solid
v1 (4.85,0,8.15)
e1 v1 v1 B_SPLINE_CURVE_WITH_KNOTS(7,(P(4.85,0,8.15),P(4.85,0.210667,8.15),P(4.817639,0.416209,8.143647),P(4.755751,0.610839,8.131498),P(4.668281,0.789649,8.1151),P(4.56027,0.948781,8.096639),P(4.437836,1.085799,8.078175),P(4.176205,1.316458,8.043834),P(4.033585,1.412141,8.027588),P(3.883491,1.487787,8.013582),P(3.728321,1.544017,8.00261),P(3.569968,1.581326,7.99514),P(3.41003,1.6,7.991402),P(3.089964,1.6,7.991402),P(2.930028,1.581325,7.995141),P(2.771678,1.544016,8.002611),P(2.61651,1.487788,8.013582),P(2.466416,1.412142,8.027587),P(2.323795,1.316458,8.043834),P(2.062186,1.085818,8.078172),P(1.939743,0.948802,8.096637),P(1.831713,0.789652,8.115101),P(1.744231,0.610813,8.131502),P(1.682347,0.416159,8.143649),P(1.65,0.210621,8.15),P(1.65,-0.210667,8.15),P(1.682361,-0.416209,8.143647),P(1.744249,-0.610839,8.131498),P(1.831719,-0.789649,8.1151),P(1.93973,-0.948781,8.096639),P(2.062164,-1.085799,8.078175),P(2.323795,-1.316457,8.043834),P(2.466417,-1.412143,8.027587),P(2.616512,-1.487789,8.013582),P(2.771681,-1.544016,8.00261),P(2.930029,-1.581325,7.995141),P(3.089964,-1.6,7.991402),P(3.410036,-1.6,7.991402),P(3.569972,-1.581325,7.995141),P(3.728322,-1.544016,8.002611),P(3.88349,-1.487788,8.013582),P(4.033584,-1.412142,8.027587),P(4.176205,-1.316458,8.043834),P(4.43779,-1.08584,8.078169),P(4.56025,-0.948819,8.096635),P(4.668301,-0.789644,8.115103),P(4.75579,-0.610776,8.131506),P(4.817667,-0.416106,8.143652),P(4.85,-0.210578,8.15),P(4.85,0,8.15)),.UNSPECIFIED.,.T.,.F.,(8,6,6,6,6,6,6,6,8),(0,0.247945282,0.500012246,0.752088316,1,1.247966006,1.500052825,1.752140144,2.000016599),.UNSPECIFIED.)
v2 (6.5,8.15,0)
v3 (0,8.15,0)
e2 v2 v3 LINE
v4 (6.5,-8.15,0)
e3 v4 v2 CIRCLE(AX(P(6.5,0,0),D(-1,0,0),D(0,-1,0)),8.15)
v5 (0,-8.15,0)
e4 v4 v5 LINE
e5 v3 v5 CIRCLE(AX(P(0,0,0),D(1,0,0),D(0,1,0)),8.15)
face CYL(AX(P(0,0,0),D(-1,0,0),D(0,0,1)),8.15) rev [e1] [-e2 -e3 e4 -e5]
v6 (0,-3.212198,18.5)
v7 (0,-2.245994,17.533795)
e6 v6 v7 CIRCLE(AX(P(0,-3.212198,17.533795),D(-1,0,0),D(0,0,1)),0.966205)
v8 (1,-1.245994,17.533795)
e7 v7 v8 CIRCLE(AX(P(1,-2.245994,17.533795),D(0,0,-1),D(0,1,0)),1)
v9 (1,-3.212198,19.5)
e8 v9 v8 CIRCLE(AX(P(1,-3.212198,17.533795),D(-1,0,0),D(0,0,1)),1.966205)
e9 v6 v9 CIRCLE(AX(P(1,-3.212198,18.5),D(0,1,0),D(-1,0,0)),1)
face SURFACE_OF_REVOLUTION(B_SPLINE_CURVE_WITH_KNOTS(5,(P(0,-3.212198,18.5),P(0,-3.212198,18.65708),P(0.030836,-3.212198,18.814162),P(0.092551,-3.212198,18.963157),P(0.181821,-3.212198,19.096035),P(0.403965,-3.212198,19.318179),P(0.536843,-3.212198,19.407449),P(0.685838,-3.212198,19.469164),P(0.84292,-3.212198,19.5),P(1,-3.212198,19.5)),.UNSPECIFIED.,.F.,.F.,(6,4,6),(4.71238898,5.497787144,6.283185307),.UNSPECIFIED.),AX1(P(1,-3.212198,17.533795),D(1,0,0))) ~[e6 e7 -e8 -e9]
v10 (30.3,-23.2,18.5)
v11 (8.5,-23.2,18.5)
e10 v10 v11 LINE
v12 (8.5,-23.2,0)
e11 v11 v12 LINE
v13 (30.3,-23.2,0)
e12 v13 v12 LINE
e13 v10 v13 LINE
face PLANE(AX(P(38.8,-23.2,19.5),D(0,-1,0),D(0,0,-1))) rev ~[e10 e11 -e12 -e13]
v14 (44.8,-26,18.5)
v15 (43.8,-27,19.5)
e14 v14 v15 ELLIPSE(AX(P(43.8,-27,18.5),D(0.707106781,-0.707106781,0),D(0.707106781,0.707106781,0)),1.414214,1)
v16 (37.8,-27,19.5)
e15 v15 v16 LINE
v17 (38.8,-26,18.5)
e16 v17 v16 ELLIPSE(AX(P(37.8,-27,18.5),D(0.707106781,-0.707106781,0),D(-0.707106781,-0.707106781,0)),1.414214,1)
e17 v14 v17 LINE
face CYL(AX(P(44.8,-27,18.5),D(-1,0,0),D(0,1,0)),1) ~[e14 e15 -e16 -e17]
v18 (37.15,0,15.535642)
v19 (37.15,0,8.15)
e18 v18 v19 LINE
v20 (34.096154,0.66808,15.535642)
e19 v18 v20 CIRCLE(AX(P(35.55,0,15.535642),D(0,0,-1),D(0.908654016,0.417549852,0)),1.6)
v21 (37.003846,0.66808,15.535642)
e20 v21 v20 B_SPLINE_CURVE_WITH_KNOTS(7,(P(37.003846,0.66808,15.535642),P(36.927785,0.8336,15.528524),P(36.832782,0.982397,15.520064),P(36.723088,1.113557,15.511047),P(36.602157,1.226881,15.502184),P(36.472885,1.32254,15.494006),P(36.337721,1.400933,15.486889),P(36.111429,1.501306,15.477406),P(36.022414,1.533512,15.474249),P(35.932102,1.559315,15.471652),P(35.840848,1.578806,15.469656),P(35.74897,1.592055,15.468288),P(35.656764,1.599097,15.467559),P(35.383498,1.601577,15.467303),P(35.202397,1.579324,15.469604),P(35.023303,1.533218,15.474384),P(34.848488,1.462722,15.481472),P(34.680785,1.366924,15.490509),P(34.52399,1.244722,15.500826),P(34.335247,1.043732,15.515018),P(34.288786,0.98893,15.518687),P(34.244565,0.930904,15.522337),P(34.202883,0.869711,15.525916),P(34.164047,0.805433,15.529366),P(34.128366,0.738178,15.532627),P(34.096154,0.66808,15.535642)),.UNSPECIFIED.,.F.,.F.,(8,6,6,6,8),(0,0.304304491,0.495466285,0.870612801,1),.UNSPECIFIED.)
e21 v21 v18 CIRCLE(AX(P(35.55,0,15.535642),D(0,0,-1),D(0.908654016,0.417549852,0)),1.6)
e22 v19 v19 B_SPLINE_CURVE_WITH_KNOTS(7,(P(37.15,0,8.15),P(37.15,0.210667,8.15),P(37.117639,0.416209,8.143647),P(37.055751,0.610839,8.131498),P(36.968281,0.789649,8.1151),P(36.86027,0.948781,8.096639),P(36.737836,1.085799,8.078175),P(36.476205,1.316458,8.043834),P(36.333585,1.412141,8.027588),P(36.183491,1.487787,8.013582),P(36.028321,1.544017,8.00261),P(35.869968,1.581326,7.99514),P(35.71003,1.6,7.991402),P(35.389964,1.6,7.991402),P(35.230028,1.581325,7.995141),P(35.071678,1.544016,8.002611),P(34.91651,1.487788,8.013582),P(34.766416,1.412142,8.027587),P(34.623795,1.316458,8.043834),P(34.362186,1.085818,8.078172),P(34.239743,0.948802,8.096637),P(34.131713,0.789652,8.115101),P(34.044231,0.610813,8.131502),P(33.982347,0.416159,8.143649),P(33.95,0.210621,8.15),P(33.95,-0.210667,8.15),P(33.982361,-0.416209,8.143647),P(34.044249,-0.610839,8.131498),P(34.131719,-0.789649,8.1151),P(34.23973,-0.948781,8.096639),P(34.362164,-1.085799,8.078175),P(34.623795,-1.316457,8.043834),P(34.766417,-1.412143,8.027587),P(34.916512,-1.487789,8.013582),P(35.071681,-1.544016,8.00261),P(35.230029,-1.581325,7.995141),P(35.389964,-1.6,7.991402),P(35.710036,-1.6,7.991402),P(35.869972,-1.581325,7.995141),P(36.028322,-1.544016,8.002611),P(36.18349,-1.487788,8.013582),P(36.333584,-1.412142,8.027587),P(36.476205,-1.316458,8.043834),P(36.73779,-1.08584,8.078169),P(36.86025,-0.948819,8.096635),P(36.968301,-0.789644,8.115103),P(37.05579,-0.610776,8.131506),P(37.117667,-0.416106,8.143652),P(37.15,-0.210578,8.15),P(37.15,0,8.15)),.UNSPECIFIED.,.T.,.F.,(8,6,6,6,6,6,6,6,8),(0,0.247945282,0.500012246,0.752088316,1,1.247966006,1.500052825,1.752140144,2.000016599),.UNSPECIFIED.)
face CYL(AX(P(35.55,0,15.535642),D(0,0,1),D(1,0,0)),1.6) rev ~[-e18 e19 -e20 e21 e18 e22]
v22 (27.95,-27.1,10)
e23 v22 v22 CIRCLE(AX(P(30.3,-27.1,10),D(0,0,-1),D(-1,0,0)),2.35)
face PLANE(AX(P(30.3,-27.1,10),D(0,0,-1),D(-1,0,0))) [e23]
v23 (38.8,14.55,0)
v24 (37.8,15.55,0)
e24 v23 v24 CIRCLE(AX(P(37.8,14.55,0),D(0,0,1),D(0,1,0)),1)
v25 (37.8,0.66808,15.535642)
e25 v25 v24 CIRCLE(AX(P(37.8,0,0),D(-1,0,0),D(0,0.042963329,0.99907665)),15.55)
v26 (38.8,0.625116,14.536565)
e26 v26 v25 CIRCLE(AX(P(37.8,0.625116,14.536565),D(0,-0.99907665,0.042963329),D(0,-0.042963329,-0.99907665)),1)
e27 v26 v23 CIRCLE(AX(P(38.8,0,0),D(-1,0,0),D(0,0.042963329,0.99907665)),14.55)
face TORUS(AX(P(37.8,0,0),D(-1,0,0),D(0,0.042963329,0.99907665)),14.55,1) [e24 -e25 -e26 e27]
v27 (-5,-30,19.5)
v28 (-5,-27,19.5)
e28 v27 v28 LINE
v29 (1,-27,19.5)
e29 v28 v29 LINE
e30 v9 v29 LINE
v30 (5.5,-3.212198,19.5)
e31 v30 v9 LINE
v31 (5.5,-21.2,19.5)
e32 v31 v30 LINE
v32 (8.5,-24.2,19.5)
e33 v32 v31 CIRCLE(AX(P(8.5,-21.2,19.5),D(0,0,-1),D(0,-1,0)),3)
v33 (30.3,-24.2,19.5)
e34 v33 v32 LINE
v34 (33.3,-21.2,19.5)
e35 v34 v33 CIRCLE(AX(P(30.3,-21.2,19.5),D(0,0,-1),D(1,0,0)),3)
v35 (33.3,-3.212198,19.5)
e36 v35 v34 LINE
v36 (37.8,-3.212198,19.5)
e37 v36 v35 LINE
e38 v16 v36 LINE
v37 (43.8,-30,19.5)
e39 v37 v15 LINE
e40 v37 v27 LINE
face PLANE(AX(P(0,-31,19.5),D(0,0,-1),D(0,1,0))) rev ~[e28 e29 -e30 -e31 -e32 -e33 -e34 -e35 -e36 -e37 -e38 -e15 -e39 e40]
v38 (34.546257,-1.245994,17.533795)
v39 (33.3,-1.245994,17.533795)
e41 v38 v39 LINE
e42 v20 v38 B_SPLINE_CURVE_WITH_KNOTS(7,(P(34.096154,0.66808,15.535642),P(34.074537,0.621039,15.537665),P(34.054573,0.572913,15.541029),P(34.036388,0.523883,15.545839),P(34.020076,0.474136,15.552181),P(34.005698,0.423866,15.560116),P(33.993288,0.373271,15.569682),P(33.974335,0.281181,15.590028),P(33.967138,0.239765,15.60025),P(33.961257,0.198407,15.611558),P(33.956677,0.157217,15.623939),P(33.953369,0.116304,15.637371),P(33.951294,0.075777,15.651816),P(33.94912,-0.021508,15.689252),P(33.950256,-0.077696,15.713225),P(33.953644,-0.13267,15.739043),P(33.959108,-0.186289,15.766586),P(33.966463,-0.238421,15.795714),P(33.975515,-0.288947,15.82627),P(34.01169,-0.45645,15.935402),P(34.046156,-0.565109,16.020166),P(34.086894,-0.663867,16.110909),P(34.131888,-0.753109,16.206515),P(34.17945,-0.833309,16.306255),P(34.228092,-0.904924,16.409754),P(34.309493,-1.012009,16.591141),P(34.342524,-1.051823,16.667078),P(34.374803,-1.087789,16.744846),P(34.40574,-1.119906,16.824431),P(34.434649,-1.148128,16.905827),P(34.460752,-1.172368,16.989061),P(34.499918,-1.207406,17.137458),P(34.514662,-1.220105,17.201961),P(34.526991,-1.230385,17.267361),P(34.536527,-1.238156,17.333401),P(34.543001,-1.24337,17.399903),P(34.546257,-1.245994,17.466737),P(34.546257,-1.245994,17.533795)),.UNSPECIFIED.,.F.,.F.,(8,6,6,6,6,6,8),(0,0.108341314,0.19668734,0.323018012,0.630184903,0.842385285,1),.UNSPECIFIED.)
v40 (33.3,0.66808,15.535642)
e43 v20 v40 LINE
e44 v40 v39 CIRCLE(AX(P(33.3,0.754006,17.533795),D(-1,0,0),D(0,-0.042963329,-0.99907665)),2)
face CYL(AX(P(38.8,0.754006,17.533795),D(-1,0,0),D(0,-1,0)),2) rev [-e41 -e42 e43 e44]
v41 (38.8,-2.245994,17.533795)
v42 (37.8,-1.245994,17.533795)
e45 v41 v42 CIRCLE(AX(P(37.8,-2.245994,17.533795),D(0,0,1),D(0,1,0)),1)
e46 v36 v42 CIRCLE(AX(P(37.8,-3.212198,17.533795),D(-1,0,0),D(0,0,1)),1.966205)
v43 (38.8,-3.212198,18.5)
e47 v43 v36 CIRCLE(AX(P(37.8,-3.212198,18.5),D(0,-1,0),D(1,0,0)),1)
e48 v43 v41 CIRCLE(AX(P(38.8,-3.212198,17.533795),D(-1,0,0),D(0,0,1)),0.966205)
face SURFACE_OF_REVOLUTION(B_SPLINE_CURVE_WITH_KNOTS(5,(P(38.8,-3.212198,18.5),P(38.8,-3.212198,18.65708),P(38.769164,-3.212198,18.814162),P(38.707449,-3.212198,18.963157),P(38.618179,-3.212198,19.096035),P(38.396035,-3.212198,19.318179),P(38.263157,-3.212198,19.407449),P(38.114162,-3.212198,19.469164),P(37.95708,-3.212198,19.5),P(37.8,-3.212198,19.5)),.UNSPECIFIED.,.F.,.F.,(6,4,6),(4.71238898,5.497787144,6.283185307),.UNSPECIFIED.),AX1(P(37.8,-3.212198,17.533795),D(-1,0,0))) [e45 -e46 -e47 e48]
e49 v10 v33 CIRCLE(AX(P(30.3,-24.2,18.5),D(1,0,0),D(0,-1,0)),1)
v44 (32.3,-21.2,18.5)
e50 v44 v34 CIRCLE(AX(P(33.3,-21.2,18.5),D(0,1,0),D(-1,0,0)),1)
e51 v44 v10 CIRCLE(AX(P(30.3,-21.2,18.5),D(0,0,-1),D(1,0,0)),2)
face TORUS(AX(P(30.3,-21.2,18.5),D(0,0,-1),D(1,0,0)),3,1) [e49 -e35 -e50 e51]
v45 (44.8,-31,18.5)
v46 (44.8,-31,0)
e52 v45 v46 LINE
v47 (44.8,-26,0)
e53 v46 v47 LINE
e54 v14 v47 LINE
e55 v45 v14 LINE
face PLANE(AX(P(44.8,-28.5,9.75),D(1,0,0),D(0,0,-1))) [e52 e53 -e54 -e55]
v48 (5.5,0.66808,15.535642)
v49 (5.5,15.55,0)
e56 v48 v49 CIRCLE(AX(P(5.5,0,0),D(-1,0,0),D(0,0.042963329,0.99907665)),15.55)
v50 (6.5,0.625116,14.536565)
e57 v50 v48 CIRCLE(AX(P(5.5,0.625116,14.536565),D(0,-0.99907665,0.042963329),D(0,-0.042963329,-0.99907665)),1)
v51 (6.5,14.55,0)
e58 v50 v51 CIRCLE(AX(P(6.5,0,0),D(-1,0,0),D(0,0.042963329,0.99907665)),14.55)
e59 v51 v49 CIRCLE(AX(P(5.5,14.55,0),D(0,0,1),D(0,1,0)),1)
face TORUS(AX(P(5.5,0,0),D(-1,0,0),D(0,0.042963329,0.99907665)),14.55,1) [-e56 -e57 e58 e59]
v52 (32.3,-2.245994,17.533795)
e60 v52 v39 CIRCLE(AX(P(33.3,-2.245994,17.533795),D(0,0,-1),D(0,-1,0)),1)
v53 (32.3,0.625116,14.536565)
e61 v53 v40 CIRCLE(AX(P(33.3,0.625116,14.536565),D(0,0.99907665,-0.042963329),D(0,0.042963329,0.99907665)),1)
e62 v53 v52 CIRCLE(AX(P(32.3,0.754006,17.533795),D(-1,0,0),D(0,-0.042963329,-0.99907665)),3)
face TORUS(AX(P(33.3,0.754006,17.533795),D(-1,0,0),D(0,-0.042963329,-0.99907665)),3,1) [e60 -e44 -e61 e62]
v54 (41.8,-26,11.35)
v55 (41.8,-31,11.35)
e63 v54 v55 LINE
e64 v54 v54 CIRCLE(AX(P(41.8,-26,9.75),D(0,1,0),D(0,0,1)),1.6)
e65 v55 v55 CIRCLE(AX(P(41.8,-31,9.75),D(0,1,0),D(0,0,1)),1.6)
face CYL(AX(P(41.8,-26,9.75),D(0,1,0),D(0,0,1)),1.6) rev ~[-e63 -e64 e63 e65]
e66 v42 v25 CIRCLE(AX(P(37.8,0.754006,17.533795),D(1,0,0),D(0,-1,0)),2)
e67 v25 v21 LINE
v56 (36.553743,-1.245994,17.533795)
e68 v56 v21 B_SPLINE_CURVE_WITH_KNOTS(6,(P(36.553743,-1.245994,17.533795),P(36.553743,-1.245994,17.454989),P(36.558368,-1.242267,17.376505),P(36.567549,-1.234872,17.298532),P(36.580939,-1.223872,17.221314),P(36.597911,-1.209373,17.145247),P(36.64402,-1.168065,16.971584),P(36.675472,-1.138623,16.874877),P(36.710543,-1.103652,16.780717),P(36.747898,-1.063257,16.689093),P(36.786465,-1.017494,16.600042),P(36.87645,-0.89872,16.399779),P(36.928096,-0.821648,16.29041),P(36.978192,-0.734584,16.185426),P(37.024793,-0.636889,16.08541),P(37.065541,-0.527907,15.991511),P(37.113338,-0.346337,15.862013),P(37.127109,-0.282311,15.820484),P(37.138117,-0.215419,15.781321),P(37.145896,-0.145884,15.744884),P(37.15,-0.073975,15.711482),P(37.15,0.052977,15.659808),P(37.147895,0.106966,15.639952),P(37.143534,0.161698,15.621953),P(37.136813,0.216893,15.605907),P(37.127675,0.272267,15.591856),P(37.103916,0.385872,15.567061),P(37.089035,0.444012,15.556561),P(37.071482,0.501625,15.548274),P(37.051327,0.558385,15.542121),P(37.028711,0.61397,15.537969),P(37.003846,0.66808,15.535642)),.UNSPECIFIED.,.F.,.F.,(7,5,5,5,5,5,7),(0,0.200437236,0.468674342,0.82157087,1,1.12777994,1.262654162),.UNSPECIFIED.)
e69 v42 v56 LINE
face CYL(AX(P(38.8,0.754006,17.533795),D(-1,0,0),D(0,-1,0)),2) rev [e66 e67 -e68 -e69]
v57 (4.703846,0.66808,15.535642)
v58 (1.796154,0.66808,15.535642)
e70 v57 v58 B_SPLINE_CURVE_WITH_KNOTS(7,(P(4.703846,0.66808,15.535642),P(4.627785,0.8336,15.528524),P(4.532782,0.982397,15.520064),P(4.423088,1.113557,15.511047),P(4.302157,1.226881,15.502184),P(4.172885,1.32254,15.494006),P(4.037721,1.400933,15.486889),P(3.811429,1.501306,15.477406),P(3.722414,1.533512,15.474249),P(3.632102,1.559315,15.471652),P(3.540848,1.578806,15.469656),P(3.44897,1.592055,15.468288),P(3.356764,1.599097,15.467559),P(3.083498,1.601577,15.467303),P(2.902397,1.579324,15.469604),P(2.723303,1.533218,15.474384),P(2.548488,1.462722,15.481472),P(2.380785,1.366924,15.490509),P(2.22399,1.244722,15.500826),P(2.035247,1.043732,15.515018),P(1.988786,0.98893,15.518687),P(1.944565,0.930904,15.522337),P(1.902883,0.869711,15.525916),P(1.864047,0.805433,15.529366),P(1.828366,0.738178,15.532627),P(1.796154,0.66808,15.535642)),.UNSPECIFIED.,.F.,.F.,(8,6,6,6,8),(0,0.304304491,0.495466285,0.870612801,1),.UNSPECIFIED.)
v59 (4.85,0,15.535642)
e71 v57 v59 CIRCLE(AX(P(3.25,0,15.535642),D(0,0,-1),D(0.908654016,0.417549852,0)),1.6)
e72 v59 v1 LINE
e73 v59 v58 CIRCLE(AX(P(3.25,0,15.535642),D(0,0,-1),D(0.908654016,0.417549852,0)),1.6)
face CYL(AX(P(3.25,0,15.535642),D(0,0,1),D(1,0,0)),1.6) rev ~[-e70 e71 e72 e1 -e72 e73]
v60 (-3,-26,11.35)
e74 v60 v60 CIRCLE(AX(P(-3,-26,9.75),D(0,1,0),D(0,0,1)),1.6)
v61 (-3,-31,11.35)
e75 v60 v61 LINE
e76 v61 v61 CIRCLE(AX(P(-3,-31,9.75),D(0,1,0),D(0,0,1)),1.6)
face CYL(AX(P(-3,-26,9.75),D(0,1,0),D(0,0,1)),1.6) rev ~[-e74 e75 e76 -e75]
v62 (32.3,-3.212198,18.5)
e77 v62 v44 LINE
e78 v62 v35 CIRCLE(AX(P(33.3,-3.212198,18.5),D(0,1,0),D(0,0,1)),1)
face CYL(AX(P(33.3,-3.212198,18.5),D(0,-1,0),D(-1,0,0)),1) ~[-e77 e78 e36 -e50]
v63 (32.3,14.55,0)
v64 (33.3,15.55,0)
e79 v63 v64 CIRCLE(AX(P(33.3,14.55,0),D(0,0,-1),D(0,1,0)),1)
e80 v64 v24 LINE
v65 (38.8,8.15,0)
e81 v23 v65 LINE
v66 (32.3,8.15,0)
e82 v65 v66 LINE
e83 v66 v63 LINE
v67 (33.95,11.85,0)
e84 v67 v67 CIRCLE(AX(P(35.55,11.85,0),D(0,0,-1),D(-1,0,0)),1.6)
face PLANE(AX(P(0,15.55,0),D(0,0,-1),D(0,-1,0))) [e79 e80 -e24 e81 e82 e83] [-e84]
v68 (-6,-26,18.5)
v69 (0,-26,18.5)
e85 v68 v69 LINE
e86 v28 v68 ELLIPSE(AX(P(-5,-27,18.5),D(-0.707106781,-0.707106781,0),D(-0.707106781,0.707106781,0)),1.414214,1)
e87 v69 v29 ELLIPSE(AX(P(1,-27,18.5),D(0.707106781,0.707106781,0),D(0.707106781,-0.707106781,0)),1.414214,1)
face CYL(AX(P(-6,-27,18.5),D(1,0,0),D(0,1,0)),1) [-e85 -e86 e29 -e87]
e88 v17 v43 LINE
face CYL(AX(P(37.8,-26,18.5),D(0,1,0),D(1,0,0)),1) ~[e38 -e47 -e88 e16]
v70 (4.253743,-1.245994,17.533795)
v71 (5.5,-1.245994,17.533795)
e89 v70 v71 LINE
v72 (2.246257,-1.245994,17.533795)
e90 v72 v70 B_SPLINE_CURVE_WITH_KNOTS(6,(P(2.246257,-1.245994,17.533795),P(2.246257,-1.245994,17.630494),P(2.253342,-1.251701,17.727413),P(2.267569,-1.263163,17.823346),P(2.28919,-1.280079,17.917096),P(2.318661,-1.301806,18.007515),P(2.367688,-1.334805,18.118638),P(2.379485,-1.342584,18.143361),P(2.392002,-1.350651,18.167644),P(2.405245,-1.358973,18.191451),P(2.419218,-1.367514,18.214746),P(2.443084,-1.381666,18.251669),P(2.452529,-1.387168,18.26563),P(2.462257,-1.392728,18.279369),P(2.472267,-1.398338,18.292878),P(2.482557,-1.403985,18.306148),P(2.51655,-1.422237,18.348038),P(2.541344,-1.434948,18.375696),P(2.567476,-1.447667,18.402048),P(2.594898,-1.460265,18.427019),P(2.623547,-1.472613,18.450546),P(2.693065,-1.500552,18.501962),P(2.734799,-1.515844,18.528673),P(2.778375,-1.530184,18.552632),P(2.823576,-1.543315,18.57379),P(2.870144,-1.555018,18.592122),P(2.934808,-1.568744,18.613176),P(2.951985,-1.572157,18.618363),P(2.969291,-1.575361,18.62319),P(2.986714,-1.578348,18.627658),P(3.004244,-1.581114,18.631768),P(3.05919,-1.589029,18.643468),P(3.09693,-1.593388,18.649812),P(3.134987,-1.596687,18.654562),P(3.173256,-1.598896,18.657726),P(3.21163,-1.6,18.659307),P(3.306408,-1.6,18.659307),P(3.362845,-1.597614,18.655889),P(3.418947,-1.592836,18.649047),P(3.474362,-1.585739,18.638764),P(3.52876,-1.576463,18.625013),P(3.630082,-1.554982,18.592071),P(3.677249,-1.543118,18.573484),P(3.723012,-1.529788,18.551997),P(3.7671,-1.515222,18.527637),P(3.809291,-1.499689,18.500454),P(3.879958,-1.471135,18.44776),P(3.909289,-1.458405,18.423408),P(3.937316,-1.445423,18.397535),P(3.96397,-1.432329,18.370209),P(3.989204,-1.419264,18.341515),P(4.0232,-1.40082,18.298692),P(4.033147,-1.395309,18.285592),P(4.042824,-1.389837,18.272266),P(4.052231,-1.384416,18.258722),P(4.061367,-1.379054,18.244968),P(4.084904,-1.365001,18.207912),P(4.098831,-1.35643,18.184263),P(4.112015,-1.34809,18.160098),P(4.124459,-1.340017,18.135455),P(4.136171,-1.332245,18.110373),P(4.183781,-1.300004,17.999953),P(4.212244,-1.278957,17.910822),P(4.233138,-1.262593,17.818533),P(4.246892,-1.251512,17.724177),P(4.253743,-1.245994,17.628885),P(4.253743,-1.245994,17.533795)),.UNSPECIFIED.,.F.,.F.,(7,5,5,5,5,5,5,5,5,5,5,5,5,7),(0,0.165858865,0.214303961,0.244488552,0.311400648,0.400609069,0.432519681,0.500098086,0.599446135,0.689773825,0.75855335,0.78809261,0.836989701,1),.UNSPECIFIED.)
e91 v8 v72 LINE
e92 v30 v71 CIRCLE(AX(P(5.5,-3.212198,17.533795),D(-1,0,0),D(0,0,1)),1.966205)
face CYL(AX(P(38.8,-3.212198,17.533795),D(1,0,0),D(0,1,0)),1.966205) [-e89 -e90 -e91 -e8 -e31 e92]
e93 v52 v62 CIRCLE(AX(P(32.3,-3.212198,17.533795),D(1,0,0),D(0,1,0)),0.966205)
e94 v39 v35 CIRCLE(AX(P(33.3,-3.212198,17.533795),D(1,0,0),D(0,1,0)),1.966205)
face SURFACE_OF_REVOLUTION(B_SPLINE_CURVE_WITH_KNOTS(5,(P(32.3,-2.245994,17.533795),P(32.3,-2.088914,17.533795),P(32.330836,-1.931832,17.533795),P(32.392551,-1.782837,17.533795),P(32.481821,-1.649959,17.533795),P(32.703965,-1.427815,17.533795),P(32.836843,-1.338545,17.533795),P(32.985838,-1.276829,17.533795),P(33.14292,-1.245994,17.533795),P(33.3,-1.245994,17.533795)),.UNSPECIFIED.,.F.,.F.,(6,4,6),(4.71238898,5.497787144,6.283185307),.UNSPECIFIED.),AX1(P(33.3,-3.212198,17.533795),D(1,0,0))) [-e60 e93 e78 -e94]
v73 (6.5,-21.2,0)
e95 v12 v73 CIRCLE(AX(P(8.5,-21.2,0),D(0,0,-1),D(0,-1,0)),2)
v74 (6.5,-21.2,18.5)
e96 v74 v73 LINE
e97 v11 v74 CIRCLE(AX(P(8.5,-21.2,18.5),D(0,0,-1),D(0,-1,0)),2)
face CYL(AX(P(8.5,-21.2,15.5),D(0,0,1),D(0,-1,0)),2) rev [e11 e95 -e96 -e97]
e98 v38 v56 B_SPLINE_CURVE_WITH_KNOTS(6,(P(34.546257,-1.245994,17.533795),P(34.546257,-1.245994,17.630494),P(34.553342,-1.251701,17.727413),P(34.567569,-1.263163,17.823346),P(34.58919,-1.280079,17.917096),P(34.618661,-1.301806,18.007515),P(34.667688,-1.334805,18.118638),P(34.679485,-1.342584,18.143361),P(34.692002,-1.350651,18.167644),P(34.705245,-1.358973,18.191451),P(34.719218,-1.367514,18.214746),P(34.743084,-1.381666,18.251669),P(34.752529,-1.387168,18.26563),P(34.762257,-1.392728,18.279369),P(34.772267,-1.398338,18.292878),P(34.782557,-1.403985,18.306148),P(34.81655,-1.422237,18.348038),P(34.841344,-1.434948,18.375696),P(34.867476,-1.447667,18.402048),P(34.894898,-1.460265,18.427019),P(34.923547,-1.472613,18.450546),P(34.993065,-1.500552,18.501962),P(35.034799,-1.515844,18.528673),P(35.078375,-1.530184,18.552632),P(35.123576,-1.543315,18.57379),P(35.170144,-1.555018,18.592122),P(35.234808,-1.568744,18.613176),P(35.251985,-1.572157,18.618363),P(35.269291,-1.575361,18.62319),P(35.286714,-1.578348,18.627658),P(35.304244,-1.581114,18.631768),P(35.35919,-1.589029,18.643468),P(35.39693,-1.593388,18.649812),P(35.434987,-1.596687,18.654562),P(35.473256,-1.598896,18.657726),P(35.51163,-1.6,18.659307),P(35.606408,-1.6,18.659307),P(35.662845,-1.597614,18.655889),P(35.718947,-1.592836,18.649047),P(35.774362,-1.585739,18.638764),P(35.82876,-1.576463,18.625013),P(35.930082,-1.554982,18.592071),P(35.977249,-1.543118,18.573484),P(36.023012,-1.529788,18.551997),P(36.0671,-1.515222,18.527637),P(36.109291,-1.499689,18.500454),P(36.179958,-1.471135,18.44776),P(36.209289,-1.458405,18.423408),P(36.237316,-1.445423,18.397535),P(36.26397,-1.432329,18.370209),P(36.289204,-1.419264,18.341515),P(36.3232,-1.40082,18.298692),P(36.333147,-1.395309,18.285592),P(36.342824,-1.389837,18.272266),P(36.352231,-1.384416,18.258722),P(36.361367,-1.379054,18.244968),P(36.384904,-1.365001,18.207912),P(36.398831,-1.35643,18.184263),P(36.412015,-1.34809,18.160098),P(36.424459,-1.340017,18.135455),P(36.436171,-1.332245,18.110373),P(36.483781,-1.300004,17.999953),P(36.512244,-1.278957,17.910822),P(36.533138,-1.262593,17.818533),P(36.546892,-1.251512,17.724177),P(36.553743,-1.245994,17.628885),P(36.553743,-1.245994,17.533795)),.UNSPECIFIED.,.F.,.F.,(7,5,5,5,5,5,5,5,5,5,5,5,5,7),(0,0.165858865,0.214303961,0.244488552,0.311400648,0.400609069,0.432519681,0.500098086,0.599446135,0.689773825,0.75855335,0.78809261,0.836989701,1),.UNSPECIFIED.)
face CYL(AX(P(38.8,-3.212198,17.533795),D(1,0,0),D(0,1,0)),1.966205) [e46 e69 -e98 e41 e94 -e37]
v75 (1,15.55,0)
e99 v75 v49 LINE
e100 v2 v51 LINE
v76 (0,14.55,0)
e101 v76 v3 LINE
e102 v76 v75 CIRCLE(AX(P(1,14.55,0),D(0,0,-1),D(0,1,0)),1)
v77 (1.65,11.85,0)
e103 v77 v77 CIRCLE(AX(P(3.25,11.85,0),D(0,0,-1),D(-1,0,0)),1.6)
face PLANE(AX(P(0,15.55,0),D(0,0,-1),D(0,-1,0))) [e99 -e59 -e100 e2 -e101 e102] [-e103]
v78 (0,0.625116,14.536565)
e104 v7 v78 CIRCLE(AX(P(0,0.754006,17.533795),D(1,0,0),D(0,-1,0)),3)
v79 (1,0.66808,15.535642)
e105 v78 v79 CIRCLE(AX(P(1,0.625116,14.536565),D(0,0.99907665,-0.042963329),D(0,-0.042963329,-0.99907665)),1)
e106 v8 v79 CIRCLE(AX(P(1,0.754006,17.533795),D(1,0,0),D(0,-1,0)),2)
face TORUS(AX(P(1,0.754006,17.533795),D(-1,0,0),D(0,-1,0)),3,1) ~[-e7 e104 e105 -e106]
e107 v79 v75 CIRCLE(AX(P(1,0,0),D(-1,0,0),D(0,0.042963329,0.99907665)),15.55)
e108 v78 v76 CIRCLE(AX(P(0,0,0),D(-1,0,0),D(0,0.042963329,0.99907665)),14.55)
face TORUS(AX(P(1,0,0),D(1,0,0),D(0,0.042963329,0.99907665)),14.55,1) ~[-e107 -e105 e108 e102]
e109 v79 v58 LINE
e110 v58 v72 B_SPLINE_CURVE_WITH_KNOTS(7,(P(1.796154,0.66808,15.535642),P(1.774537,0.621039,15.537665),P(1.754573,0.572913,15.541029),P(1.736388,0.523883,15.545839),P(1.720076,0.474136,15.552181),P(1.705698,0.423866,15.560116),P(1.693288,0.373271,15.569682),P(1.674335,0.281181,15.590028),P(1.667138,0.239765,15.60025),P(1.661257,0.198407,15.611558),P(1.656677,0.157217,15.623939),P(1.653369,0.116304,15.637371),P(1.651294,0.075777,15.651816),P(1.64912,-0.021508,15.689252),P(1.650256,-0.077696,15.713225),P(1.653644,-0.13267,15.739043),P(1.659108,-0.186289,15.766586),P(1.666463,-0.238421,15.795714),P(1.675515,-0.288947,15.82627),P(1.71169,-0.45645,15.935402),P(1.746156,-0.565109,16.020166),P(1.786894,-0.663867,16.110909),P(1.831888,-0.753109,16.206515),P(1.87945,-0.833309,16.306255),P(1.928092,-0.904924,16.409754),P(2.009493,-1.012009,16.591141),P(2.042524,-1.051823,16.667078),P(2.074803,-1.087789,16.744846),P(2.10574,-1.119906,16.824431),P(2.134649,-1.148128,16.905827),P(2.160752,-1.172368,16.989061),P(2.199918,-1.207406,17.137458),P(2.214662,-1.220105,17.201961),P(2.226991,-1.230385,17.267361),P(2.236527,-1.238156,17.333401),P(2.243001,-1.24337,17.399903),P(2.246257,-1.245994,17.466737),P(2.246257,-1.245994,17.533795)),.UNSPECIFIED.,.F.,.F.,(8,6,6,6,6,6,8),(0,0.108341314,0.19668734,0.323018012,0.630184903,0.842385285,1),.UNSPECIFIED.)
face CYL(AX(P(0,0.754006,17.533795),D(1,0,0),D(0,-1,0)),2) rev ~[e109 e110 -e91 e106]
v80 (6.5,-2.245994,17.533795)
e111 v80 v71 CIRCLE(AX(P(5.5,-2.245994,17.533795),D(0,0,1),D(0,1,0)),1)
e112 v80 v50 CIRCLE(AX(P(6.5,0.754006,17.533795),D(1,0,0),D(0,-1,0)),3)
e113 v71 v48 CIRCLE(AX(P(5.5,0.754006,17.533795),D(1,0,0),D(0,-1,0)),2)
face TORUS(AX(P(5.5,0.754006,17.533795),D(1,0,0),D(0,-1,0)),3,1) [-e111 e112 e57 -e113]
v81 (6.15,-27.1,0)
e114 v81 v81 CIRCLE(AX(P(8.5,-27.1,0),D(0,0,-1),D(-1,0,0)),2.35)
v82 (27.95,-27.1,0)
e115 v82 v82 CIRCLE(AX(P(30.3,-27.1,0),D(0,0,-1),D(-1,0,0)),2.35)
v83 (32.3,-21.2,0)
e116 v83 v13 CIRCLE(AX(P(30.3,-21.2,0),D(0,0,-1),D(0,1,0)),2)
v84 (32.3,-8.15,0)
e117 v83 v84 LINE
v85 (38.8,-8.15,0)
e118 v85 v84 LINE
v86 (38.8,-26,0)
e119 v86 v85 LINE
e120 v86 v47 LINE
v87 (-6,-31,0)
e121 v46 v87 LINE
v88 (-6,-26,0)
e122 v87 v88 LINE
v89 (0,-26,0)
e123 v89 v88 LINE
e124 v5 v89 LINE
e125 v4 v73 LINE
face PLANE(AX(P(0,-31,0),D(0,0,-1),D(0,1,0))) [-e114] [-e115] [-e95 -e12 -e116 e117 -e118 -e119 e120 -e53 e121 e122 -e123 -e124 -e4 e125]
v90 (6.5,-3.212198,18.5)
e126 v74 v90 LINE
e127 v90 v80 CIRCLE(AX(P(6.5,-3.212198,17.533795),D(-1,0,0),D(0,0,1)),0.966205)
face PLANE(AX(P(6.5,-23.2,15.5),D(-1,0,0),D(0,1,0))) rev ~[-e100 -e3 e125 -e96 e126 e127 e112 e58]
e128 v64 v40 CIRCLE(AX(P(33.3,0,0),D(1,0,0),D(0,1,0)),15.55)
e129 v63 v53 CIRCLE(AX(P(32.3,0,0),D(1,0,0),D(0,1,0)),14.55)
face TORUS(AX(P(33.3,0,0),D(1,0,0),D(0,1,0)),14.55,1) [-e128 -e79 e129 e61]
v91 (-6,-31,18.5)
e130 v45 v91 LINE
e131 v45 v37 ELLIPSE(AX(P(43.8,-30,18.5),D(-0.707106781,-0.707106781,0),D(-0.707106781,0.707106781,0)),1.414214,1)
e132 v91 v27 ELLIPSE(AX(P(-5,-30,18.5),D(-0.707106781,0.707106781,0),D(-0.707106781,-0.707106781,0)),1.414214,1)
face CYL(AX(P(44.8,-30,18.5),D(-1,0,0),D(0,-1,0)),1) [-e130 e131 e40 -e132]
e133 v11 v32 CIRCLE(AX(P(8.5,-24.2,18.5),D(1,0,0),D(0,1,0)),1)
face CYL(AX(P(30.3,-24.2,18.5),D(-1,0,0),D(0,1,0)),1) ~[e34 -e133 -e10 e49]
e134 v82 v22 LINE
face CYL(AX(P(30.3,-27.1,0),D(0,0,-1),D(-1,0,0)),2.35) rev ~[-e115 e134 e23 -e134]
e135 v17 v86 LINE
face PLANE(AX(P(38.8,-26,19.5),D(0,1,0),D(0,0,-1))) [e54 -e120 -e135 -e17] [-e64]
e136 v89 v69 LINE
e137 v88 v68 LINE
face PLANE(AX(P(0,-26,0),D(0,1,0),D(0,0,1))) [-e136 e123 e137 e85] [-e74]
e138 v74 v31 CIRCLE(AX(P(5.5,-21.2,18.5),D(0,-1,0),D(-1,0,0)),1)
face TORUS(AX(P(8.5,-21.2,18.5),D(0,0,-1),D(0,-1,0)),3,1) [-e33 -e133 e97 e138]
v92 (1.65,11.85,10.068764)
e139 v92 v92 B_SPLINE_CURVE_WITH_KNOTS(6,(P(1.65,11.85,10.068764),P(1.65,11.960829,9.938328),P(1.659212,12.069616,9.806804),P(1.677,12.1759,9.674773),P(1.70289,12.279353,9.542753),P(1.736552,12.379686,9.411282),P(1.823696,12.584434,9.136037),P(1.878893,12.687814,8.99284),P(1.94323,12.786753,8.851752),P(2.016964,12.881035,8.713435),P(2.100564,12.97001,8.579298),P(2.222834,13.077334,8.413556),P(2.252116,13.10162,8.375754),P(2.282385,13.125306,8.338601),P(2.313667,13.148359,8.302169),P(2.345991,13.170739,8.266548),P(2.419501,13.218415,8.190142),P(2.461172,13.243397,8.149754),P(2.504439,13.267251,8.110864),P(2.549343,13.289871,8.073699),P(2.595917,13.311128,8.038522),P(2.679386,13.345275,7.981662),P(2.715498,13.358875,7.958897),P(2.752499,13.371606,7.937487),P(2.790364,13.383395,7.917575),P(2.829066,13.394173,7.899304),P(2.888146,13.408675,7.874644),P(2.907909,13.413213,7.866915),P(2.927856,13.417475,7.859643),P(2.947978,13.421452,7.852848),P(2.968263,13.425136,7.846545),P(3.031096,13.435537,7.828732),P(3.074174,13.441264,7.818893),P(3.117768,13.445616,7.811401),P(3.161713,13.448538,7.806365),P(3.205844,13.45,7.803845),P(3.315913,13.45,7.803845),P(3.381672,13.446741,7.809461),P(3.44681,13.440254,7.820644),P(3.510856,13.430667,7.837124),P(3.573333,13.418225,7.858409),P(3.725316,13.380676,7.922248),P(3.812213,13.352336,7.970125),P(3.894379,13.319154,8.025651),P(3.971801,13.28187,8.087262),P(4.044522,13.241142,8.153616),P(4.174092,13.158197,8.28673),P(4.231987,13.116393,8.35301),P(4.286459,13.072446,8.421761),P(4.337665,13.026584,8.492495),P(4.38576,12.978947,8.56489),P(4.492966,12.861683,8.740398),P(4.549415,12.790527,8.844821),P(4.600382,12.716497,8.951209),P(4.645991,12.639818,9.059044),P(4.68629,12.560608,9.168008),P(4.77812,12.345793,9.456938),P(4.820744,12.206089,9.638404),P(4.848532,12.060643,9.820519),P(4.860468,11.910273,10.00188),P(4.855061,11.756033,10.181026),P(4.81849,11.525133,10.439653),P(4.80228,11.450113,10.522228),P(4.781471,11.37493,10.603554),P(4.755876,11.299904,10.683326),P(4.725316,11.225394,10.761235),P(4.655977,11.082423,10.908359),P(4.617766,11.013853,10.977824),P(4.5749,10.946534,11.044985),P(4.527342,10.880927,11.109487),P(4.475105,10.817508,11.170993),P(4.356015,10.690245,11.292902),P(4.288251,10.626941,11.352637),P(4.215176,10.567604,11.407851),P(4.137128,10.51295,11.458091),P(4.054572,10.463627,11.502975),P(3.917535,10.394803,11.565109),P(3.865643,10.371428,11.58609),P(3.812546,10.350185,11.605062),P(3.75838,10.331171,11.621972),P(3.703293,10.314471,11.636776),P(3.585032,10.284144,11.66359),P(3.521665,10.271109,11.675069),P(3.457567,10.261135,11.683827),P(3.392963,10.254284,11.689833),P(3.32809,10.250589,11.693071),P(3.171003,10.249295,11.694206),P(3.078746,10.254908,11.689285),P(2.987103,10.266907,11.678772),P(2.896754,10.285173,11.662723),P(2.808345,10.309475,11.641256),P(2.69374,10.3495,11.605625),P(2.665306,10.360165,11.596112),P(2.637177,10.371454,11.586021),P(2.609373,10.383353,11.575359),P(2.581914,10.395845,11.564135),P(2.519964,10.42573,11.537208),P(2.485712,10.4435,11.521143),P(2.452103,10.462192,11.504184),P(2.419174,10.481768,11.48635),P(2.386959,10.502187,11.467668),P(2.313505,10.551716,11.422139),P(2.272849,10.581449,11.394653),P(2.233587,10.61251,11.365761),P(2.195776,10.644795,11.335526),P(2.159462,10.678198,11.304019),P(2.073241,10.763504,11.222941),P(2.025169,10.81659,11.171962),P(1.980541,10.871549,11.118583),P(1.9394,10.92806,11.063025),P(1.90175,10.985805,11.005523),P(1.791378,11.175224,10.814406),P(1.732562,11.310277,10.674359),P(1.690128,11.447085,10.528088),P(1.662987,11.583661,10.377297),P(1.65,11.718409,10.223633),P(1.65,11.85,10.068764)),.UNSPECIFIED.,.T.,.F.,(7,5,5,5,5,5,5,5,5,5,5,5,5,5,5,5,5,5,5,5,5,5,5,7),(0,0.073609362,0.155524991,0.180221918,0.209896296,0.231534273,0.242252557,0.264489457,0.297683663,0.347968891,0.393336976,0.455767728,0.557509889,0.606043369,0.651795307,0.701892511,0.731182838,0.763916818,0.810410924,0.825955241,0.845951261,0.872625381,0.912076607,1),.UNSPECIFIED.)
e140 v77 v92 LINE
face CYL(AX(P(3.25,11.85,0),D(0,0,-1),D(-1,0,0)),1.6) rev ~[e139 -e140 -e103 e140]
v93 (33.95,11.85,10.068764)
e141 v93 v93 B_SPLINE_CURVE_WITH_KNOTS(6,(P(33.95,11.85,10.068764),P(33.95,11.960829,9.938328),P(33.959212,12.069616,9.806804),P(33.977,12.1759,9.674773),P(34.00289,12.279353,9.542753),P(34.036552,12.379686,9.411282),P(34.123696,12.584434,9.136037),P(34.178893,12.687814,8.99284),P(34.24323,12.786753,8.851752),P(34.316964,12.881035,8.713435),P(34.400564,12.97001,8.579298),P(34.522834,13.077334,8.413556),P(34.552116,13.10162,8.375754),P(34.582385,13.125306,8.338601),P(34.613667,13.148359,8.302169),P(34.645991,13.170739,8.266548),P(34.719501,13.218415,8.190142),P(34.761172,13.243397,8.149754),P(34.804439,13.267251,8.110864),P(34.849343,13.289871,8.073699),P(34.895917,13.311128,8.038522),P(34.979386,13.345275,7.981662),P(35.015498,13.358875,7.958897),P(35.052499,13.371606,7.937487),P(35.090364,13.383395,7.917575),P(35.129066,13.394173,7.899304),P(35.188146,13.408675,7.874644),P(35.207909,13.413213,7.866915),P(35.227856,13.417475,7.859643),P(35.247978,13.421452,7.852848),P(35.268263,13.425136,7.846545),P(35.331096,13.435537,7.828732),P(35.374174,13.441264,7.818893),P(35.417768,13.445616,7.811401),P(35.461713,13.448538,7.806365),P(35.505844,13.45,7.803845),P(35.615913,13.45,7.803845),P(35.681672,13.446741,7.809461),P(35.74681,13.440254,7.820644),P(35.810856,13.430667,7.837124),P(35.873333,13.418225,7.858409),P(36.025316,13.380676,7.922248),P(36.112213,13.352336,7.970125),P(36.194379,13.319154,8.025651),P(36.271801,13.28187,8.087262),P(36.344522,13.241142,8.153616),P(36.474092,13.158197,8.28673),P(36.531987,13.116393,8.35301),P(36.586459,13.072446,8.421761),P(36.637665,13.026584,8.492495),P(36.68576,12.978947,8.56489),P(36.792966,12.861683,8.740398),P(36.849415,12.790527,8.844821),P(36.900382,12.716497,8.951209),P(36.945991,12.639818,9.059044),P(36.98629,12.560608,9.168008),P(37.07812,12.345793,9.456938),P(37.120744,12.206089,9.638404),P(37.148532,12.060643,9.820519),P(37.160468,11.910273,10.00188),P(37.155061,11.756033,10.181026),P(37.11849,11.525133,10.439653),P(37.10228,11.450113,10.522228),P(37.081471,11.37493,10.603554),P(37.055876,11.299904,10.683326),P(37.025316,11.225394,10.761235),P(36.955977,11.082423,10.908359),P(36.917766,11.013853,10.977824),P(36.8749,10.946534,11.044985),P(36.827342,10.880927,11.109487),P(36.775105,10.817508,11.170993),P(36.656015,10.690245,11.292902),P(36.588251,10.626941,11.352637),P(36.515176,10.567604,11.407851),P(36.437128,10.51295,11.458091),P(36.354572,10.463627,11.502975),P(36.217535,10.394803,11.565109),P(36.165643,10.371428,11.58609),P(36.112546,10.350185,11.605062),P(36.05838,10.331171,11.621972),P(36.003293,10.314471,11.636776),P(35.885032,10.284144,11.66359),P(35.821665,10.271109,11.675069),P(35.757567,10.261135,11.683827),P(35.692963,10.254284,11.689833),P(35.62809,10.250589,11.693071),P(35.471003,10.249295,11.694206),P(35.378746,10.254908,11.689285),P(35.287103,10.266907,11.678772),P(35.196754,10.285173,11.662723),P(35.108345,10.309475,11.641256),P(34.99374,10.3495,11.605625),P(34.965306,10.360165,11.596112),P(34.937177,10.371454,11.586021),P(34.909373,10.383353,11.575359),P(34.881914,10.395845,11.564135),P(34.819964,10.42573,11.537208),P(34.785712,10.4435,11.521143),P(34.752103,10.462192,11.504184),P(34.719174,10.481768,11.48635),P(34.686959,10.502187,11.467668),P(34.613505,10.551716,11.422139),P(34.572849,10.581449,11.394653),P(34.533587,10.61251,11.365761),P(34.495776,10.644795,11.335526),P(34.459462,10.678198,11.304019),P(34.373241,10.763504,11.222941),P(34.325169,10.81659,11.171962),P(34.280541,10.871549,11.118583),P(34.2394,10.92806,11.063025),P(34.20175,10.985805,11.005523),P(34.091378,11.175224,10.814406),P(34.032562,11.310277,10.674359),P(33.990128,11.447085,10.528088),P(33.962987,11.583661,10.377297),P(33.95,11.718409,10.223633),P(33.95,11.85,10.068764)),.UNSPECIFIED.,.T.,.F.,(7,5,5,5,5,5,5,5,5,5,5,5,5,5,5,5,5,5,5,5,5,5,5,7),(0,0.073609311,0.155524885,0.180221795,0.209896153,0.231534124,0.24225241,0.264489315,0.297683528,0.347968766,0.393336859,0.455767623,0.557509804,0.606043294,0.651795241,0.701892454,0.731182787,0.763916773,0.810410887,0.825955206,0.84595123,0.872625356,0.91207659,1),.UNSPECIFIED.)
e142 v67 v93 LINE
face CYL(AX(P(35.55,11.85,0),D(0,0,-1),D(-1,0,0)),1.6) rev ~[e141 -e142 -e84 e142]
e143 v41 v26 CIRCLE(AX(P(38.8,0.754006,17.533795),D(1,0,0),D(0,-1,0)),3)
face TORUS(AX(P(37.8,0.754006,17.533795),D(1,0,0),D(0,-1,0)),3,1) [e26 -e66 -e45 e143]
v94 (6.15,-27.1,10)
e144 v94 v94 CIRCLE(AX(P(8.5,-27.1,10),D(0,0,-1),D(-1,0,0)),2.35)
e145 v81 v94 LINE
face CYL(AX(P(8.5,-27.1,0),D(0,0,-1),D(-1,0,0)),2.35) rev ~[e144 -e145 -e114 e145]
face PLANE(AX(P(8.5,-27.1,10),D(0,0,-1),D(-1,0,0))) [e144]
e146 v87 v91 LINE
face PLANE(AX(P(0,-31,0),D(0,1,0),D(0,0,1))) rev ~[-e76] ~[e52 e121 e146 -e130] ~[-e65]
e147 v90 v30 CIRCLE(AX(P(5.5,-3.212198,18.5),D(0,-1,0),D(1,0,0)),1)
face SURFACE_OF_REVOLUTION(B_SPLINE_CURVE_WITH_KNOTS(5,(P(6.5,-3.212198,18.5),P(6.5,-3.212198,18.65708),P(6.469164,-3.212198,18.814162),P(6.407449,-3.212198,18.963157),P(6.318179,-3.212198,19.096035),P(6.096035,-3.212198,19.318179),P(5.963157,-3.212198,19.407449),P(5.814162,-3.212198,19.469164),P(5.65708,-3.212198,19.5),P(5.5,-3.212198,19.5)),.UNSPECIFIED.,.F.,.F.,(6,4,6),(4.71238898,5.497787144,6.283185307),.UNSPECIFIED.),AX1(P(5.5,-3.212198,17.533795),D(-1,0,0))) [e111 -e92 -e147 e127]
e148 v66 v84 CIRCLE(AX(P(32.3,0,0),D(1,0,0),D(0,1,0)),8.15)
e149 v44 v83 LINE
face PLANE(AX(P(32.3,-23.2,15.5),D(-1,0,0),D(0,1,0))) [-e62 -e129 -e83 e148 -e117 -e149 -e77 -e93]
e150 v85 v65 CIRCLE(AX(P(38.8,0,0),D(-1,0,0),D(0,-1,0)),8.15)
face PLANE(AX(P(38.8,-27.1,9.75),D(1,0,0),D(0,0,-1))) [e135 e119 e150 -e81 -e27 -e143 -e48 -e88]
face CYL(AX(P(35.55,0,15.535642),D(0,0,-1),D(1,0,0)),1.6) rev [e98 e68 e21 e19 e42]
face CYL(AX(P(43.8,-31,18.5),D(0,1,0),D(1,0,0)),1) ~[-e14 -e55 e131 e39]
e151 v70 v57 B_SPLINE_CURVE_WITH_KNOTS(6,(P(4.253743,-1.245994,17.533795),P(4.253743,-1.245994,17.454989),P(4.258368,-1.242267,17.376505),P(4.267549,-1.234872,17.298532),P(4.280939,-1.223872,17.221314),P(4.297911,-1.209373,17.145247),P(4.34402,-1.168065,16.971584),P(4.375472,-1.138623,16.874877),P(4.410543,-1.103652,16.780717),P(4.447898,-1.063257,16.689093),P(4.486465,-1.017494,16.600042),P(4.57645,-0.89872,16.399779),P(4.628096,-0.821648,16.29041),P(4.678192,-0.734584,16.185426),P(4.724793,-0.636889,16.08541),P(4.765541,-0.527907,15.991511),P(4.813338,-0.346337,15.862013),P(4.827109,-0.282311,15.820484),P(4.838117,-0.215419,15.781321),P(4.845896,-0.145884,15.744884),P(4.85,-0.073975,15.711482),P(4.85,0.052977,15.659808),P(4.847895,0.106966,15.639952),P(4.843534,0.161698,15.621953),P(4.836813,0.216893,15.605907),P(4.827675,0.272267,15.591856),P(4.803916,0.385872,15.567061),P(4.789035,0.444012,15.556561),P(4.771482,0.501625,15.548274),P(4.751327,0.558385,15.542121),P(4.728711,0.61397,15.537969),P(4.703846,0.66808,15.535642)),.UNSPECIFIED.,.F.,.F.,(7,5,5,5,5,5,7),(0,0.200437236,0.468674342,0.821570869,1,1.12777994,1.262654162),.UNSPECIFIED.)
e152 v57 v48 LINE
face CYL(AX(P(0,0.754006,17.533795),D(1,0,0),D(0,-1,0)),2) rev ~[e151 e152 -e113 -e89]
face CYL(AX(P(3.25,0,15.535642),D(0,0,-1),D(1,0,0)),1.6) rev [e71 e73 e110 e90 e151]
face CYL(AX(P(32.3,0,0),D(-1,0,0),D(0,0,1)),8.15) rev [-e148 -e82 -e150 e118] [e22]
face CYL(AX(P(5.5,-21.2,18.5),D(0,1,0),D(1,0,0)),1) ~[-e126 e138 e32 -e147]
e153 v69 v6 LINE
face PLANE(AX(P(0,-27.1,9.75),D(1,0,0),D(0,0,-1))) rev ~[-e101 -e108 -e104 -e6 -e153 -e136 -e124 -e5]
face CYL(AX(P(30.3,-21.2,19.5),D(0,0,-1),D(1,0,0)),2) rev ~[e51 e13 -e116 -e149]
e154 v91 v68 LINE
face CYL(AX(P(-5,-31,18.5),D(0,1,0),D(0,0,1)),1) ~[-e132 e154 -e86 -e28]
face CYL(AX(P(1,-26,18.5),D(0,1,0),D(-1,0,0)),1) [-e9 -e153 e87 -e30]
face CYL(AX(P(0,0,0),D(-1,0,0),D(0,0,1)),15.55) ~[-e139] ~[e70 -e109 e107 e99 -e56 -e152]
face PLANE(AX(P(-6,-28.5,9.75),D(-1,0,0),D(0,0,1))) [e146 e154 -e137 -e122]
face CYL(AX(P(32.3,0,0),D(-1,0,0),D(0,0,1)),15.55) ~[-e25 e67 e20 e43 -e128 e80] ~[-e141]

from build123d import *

# Parameters (mm, degrees)
SKETCH3_R               = 15.55
SKETCH3_R_2             = 8.15
BOSS_EXTRUDE4_DEPTH     = 6.5
SKETCH2_R               = 15.55
SKETCH2_R_2             = 8.15
BOSS_EXTRUDE5_DEPTH     = 6.5
CUT_EXTRUDE1_DEPTH      = 38.8
SKETCH5_R               = 1.6
CUT_EXTRUDE2_DEPTH      = 45.598710744
BOSS_EXTRUDE6_DEPTH     = 6.5
SKETCH9_W               = 6.5
SKETCH9_H               = 21.954006421
BOSS_EXTRUDE7_DEPTH     = 4
BOSS_EXTRUDE8_DEPTH     = 6.5
SKETCH12_W              = 6.5
SKETCH12_H              = 21.954006421
BOSS_EXTRUDE9_DEPTH     = 4
FILLET1_R               = 2
FILLET2_R               = 2
CUT_EXTRUDE3_DEPTH      = 50.233423685
SKETCH13_W              = 19.5
SKETCH13_H              = 7.8
BOSS_EXTRUDE10_DEPTH    = 38.8
FILLET3_R               = 2
SKETCH14_W              = 19.5
SKETCH14_H              = 5
BOSS_EXTRUDE11_DEPTH    = 6
SKETCH15_R              = 1.6
CUT_EXTRUDE4_DEPTH      = 65.138073781
SKETCH16_W              = 19.5
SKETCH16_H              = 5
BOSS_EXTRUDE12_DEPTH    = 6
SKETCH17_R              = 1.6
CUT_EXTRUDE5_DEPTH      = 65.138073781
SKETCH19_R              = 2.35
CUT_EXTRUDE7_DEPTH      = 10
FILLET4_R               = 1
SKETCH20_R              = 1.6
CUT_EXTRUDE8_DEPTH      = 57.651532835
CUT_EXTRUDE8_DEPTH_BACK = 57.651532835
FILLET5_R               = 1


with BuildPart() as part:
    # Sketch3 → Boss-Extrude4 (new body)
    with BuildSketch(Plane(origin=(0, 0, 0), x_dir=(0, 0, -1), z_dir=(1, 0, 0))):
        with Locations(Location((0, 0, 0), (0, 0, 180))):
            Circle(SKETCH3_R)
        with Locations(Location((0, 0, 0), (0, 0, 180))):
            Circle(SKETCH3_R_2, mode=Mode.SUBTRACT)
    extrude(amount=BOSS_EXTRUDE4_DEPTH)


with BuildPart() as body_2:
    # Sketch2 → Boss-Extrude5 (new body)
    with BuildSketch(Plane(origin=(32.3, 0, 0), x_dir=(0, 0, -1), z_dir=(1, 0, 0))):
        with Locations(Location((0, 0, 0), (0, 0, 180))):
            Circle(SKETCH2_R)
        with Locations(Location((0, 0, 0), (0, 0, 180))):
            Circle(SKETCH2_R_2, mode=Mode.SUBTRACT)
    extrude(amount=BOSS_EXTRUDE5_DEPTH)


with BuildPart() as cut_extrude1_tool:
    # Sketch4 → Cut-Extrude1 (new body)
    with BuildSketch(Plane(origin=(0, 0, 0), x_dir=(0, 0, -1), z_dir=(1, 0, 0))):
        with BuildLine():
            Line((0, 15.55), (0, -15.55))
            ThreePointArc((0, -15.55), (15.55, 0), (0, 15.55))
        make_face()
    extrude(amount=CUT_EXTRUDE1_DEPTH)


with BuildPart() as part_1:
    add(part.part)

    # Cut-Extrude1: cut by cut_extrude1_tool
    add(cut_extrude1_tool.part, mode=Mode.SUBTRACT)


with BuildPart() as body_2_1:
    add(body_2.part)

    # Cut-Extrude1: cut by cut_extrude1_tool
    add(cut_extrude1_tool.part, mode=Mode.SUBTRACT)


with BuildPart() as cut_extrude2_tool:
    # Sketch5 → Cut-Extrude2 (new, through all)
    with BuildSketch(Plane(origin=(0, 0, 0), x_dir=(-1, 0, 0), z_dir=(0, 0, -1))):
        with Locations((-35.55, 11.85)):
            Circle(SKETCH5_R)
        with Locations((-3.25, 11.85)):
            Circle(SKETCH5_R)
    extrude(amount=-CUT_EXTRUDE2_DEPTH)


with BuildPart() as part_2:
    add(part_1.part)

    # Cut-Extrude2: cut by cut_extrude2_tool
    add(cut_extrude2_tool.part, mode=Mode.SUBTRACT)

    # Sketch11 → Boss-Extrude8 (add)
    with BuildSketch(Plane.ZY):
        with BuildLine():
            ThreePointArc((15.5, -1.245993579), (10.545788255, -11.427547859), (0, -15.55))
            Line((0, -15.55), (0, -23.2))
            Line((0, -23.2), (15.5, -23.2))
            Line((15.5, -23.2), (15.5, -1.245993579))
        make_face()
    extrude(amount=-BOSS_EXTRUDE8_DEPTH)

    # Sketch12 → Boss-Extrude9 (add)
    with BuildSketch(Plane.XY.offset(15.5)):
        with Locations((3.25, -12.22299679)):
            Rectangle(SKETCH12_W, SKETCH12_H)
    extrude(amount=BOSS_EXTRUDE9_DEPTH)

    # Fillet2
    fillet2_edges = [part_2.edges().sort_by_distance(p)[0] for p in [
        (3.25, -1.245993579, 15.5),
    ]]
    fillet(fillet2_edges, radius=FILLET2_R)


with BuildPart() as body_2_2:
    add(body_2_1.part)

    # Cut-Extrude2: cut by cut_extrude2_tool
    add(cut_extrude2_tool.part, mode=Mode.SUBTRACT)

    # Sketch8 → Boss-Extrude6 (add)
    with BuildSketch(Plane(origin=(38.8, 0, 0), x_dir=(0, 0, -1), z_dir=(1, 0, 0))):
        with BuildLine():
            ThreePointArc((0, -19.2), (-8.691551143, -17.120074145), (-15.5, -11.330931118))
            Line((-15.5, -11.330931118), (-15.5, -23.2))
            Line((-15.5, -23.2), (0, -23.2))
            Line((0, -23.2), (0, -19.2))
        make_face()
        with BuildLine():
            ThreePointArc((0, -15.55), (-10.545788255, -11.427547859), (-15.5, -1.245993579))
            Line((-15.5, -1.245993579), (-15.5, -11.330931118))
            ThreePointArc((-15.5, -11.330931118), (-8.691551143, -17.120074145), (0, -19.2))
            Line((0, -19.2), (0, -15.55))
        make_face()
    extrude(amount=-BOSS_EXTRUDE6_DEPTH)

    # Sketch9 → Boss-Extrude7 (add)
    with BuildSketch(Plane.XY.offset(15.5)):
        with Locations((35.55, -12.22299679)):
            Rectangle(SKETCH9_W, SKETCH9_H)
    extrude(amount=BOSS_EXTRUDE7_DEPTH)

    # Fillet1
    fillet1_edges = [body_2_2.edges().sort_by_distance(p)[0] for p in [
        (35.55, -1.245993579, 15.5),
    ]]
    fillet(fillet1_edges, radius=FILLET1_R)


with BuildPart() as cut_extrude3_tool:
    # Sketch10 → Cut-Extrude3 (new, through all)
    with BuildSketch(Plane(origin=(38.8, 0, 0), x_dir=(0, 0, -1), z_dir=(1, 0, 0))):
        with BuildLine():
            Line((-19.5, -3.212198374), (-19.5, -1.245993579))
            Line((-19.5, -1.245993579), (-17.533795206, -1.245993579))
            ThreePointArc((-17.533795206, -1.245993579), (-18.924111949, -1.82188163), (-19.5, -3.212198374))
        make_face()
    extrude(amount=-CUT_EXTRUDE3_DEPTH)


with BuildPart() as part_3:
    add(part_2.part)

    # Cut-Extrude3: cut by cut_extrude3_tool
    add(cut_extrude3_tool.part, mode=Mode.SUBTRACT)



with BuildPart() as body_2_3:
    add(body_2_2.part)

    # Cut-Extrude3: cut by cut_extrude3_tool
    add(cut_extrude3_tool.part, mode=Mode.SUBTRACT)


with BuildPart() as part_4:
    add(part_3.part)

    add(body_2_3.part)  # Boss-Extrude10 merges body 2
    # Sketch13 → Boss-Extrude10 (add)
    with BuildSketch(Plane(origin=(38.8, 0, 0), x_dir=(0, 0, -1), z_dir=(1, 0, 0))):
        with Locations((-9.75, -27.1)):
            Rectangle(SKETCH13_W, SKETCH13_H)
    extrude(amount=-BOSS_EXTRUDE10_DEPTH)

    # Fillet3
    fillet3_edges = [part_4.edges().sort_by_distance(p)[0] for p in [
        (6.5, -23.2, 9.75),
        (32.3, -23.2, 9.75),
    ]]
    fillet(fillet3_edges, radius=FILLET3_R)

    # Sketch14 → Boss-Extrude11 (add)
    with BuildSketch(Plane(origin=(38.8, 0, 0), x_dir=(0, 0, -1), z_dir=(1, 0, 0))):
        with Locations((-9.75, -28.5)):
            Rectangle(SKETCH14_W, SKETCH14_H)
    extrude(amount=BOSS_EXTRUDE11_DEPTH)

    # Sketch15 → Cut-Extrude4 (cut, through all)
    with BuildSketch(Plane(origin=(0, -26, 0), x_dir=(1, 0, 0), z_dir=(0, 1, 0))):
        with Locations(Location((41.8, -9.75, 0), (0, 0, 270))):
            Circle(SKETCH15_R)
    extrude(amount=-CUT_EXTRUDE4_DEPTH, mode=Mode.SUBTRACT)

    # Sketch16 → Boss-Extrude12 (add)
    with BuildSketch(Plane.ZY):
        with Locations((9.75, -28.5)):
            Rectangle(SKETCH16_W, SKETCH16_H)
    extrude(amount=BOSS_EXTRUDE12_DEPTH)

    # Sketch17 → Cut-Extrude5 (cut, through all)
    with BuildSketch(Plane(origin=(0, -26, 0), x_dir=(1, 0, 0), z_dir=(0, 1, 0))):
        with Locations(Location((-3, -9.75, 0), (0, 0, 270))):
            Circle(SKETCH17_R)
    extrude(amount=-CUT_EXTRUDE5_DEPTH, mode=Mode.SUBTRACT)

    # Sketch19 → Cut-Extrude7 (cut)
    with BuildSketch(Plane(origin=(0, 0, 0), x_dir=(-1, 0, 0), z_dir=(0, 0, -1))):
        with Locations((-8.5, -27.1)):
            Circle(SKETCH19_R)
        with Locations((-30.3, -27.1)):
            Circle(SKETCH19_R)
    extrude(amount=-CUT_EXTRUDE7_DEPTH, mode=Mode.SUBTRACT)

    # Fillet4
    fillet4_edges = [part_4.edges().sort_by_distance(p)[0] for p in [
        (6.5, -0.690267327, 16.150294811),
        (6.5, -1.82188163, 18.924111949),
        (6.5, 11.229228387, 10.756715569),
        (0, -0.690267327, 16.150294811),
        (0, 11.229228387, 10.756715569),
        (0, -1.82188163, 18.924111949),
        (19.4, -23.2, 19.5),
        (6.5, -12.206099187, 19.5),
        (31.714213562, -22.614213562, 19.5),
        (7.085786438, -22.614213562, 19.5),
        (38.8, -14.606099187, 19.5),
        (0, -14.606099187, 19.5),
        (32.3, 11.229228387, 10.756715569),
        (38.8, 11.229228387, 10.756715569),
        (38.8, -0.690267327, 16.150294811),
        (32.3, -0.690267327, 16.150294811),
        (32.3, -12.206099187, 19.5),
        (38.8, -1.82188163, 18.924111949),
        (32.3, -1.82188163, 18.924111949),
    ]]
    fillet(fillet4_edges, radius=FILLET4_R)

    # Sketch20 → Cut-Extrude8 (cut, two sides)
    with BuildSketch(Plane.XY.offset(15.535641906)) as cut_extrude8_sk:
        with Locations((3.25, 0)):
            Circle(SKETCH20_R)
        with Locations((35.55, 0)):
            Circle(SKETCH20_R)
    extrude(amount=CUT_EXTRUDE8_DEPTH, mode=Mode.SUBTRACT)
    extrude(cut_extrude8_sk.sketch, amount=-CUT_EXTRUDE8_DEPTH_BACK, mode=Mode.SUBTRACT)

    # Fillet5
    fillet5_edges = [part_4.edges().sort_by_distance(p)[0] for p in [
        (44.8, -28.5, 19.5),
        (41.3, -26, 19.5),
        (19.4, -31, 19.5),
        (-6, -28.5, 19.5),
        (-2.5, -26, 19.5),
    ]]
    fillet(fillet5_edges, radius=FILLET5_R)


solid = part_4.part
